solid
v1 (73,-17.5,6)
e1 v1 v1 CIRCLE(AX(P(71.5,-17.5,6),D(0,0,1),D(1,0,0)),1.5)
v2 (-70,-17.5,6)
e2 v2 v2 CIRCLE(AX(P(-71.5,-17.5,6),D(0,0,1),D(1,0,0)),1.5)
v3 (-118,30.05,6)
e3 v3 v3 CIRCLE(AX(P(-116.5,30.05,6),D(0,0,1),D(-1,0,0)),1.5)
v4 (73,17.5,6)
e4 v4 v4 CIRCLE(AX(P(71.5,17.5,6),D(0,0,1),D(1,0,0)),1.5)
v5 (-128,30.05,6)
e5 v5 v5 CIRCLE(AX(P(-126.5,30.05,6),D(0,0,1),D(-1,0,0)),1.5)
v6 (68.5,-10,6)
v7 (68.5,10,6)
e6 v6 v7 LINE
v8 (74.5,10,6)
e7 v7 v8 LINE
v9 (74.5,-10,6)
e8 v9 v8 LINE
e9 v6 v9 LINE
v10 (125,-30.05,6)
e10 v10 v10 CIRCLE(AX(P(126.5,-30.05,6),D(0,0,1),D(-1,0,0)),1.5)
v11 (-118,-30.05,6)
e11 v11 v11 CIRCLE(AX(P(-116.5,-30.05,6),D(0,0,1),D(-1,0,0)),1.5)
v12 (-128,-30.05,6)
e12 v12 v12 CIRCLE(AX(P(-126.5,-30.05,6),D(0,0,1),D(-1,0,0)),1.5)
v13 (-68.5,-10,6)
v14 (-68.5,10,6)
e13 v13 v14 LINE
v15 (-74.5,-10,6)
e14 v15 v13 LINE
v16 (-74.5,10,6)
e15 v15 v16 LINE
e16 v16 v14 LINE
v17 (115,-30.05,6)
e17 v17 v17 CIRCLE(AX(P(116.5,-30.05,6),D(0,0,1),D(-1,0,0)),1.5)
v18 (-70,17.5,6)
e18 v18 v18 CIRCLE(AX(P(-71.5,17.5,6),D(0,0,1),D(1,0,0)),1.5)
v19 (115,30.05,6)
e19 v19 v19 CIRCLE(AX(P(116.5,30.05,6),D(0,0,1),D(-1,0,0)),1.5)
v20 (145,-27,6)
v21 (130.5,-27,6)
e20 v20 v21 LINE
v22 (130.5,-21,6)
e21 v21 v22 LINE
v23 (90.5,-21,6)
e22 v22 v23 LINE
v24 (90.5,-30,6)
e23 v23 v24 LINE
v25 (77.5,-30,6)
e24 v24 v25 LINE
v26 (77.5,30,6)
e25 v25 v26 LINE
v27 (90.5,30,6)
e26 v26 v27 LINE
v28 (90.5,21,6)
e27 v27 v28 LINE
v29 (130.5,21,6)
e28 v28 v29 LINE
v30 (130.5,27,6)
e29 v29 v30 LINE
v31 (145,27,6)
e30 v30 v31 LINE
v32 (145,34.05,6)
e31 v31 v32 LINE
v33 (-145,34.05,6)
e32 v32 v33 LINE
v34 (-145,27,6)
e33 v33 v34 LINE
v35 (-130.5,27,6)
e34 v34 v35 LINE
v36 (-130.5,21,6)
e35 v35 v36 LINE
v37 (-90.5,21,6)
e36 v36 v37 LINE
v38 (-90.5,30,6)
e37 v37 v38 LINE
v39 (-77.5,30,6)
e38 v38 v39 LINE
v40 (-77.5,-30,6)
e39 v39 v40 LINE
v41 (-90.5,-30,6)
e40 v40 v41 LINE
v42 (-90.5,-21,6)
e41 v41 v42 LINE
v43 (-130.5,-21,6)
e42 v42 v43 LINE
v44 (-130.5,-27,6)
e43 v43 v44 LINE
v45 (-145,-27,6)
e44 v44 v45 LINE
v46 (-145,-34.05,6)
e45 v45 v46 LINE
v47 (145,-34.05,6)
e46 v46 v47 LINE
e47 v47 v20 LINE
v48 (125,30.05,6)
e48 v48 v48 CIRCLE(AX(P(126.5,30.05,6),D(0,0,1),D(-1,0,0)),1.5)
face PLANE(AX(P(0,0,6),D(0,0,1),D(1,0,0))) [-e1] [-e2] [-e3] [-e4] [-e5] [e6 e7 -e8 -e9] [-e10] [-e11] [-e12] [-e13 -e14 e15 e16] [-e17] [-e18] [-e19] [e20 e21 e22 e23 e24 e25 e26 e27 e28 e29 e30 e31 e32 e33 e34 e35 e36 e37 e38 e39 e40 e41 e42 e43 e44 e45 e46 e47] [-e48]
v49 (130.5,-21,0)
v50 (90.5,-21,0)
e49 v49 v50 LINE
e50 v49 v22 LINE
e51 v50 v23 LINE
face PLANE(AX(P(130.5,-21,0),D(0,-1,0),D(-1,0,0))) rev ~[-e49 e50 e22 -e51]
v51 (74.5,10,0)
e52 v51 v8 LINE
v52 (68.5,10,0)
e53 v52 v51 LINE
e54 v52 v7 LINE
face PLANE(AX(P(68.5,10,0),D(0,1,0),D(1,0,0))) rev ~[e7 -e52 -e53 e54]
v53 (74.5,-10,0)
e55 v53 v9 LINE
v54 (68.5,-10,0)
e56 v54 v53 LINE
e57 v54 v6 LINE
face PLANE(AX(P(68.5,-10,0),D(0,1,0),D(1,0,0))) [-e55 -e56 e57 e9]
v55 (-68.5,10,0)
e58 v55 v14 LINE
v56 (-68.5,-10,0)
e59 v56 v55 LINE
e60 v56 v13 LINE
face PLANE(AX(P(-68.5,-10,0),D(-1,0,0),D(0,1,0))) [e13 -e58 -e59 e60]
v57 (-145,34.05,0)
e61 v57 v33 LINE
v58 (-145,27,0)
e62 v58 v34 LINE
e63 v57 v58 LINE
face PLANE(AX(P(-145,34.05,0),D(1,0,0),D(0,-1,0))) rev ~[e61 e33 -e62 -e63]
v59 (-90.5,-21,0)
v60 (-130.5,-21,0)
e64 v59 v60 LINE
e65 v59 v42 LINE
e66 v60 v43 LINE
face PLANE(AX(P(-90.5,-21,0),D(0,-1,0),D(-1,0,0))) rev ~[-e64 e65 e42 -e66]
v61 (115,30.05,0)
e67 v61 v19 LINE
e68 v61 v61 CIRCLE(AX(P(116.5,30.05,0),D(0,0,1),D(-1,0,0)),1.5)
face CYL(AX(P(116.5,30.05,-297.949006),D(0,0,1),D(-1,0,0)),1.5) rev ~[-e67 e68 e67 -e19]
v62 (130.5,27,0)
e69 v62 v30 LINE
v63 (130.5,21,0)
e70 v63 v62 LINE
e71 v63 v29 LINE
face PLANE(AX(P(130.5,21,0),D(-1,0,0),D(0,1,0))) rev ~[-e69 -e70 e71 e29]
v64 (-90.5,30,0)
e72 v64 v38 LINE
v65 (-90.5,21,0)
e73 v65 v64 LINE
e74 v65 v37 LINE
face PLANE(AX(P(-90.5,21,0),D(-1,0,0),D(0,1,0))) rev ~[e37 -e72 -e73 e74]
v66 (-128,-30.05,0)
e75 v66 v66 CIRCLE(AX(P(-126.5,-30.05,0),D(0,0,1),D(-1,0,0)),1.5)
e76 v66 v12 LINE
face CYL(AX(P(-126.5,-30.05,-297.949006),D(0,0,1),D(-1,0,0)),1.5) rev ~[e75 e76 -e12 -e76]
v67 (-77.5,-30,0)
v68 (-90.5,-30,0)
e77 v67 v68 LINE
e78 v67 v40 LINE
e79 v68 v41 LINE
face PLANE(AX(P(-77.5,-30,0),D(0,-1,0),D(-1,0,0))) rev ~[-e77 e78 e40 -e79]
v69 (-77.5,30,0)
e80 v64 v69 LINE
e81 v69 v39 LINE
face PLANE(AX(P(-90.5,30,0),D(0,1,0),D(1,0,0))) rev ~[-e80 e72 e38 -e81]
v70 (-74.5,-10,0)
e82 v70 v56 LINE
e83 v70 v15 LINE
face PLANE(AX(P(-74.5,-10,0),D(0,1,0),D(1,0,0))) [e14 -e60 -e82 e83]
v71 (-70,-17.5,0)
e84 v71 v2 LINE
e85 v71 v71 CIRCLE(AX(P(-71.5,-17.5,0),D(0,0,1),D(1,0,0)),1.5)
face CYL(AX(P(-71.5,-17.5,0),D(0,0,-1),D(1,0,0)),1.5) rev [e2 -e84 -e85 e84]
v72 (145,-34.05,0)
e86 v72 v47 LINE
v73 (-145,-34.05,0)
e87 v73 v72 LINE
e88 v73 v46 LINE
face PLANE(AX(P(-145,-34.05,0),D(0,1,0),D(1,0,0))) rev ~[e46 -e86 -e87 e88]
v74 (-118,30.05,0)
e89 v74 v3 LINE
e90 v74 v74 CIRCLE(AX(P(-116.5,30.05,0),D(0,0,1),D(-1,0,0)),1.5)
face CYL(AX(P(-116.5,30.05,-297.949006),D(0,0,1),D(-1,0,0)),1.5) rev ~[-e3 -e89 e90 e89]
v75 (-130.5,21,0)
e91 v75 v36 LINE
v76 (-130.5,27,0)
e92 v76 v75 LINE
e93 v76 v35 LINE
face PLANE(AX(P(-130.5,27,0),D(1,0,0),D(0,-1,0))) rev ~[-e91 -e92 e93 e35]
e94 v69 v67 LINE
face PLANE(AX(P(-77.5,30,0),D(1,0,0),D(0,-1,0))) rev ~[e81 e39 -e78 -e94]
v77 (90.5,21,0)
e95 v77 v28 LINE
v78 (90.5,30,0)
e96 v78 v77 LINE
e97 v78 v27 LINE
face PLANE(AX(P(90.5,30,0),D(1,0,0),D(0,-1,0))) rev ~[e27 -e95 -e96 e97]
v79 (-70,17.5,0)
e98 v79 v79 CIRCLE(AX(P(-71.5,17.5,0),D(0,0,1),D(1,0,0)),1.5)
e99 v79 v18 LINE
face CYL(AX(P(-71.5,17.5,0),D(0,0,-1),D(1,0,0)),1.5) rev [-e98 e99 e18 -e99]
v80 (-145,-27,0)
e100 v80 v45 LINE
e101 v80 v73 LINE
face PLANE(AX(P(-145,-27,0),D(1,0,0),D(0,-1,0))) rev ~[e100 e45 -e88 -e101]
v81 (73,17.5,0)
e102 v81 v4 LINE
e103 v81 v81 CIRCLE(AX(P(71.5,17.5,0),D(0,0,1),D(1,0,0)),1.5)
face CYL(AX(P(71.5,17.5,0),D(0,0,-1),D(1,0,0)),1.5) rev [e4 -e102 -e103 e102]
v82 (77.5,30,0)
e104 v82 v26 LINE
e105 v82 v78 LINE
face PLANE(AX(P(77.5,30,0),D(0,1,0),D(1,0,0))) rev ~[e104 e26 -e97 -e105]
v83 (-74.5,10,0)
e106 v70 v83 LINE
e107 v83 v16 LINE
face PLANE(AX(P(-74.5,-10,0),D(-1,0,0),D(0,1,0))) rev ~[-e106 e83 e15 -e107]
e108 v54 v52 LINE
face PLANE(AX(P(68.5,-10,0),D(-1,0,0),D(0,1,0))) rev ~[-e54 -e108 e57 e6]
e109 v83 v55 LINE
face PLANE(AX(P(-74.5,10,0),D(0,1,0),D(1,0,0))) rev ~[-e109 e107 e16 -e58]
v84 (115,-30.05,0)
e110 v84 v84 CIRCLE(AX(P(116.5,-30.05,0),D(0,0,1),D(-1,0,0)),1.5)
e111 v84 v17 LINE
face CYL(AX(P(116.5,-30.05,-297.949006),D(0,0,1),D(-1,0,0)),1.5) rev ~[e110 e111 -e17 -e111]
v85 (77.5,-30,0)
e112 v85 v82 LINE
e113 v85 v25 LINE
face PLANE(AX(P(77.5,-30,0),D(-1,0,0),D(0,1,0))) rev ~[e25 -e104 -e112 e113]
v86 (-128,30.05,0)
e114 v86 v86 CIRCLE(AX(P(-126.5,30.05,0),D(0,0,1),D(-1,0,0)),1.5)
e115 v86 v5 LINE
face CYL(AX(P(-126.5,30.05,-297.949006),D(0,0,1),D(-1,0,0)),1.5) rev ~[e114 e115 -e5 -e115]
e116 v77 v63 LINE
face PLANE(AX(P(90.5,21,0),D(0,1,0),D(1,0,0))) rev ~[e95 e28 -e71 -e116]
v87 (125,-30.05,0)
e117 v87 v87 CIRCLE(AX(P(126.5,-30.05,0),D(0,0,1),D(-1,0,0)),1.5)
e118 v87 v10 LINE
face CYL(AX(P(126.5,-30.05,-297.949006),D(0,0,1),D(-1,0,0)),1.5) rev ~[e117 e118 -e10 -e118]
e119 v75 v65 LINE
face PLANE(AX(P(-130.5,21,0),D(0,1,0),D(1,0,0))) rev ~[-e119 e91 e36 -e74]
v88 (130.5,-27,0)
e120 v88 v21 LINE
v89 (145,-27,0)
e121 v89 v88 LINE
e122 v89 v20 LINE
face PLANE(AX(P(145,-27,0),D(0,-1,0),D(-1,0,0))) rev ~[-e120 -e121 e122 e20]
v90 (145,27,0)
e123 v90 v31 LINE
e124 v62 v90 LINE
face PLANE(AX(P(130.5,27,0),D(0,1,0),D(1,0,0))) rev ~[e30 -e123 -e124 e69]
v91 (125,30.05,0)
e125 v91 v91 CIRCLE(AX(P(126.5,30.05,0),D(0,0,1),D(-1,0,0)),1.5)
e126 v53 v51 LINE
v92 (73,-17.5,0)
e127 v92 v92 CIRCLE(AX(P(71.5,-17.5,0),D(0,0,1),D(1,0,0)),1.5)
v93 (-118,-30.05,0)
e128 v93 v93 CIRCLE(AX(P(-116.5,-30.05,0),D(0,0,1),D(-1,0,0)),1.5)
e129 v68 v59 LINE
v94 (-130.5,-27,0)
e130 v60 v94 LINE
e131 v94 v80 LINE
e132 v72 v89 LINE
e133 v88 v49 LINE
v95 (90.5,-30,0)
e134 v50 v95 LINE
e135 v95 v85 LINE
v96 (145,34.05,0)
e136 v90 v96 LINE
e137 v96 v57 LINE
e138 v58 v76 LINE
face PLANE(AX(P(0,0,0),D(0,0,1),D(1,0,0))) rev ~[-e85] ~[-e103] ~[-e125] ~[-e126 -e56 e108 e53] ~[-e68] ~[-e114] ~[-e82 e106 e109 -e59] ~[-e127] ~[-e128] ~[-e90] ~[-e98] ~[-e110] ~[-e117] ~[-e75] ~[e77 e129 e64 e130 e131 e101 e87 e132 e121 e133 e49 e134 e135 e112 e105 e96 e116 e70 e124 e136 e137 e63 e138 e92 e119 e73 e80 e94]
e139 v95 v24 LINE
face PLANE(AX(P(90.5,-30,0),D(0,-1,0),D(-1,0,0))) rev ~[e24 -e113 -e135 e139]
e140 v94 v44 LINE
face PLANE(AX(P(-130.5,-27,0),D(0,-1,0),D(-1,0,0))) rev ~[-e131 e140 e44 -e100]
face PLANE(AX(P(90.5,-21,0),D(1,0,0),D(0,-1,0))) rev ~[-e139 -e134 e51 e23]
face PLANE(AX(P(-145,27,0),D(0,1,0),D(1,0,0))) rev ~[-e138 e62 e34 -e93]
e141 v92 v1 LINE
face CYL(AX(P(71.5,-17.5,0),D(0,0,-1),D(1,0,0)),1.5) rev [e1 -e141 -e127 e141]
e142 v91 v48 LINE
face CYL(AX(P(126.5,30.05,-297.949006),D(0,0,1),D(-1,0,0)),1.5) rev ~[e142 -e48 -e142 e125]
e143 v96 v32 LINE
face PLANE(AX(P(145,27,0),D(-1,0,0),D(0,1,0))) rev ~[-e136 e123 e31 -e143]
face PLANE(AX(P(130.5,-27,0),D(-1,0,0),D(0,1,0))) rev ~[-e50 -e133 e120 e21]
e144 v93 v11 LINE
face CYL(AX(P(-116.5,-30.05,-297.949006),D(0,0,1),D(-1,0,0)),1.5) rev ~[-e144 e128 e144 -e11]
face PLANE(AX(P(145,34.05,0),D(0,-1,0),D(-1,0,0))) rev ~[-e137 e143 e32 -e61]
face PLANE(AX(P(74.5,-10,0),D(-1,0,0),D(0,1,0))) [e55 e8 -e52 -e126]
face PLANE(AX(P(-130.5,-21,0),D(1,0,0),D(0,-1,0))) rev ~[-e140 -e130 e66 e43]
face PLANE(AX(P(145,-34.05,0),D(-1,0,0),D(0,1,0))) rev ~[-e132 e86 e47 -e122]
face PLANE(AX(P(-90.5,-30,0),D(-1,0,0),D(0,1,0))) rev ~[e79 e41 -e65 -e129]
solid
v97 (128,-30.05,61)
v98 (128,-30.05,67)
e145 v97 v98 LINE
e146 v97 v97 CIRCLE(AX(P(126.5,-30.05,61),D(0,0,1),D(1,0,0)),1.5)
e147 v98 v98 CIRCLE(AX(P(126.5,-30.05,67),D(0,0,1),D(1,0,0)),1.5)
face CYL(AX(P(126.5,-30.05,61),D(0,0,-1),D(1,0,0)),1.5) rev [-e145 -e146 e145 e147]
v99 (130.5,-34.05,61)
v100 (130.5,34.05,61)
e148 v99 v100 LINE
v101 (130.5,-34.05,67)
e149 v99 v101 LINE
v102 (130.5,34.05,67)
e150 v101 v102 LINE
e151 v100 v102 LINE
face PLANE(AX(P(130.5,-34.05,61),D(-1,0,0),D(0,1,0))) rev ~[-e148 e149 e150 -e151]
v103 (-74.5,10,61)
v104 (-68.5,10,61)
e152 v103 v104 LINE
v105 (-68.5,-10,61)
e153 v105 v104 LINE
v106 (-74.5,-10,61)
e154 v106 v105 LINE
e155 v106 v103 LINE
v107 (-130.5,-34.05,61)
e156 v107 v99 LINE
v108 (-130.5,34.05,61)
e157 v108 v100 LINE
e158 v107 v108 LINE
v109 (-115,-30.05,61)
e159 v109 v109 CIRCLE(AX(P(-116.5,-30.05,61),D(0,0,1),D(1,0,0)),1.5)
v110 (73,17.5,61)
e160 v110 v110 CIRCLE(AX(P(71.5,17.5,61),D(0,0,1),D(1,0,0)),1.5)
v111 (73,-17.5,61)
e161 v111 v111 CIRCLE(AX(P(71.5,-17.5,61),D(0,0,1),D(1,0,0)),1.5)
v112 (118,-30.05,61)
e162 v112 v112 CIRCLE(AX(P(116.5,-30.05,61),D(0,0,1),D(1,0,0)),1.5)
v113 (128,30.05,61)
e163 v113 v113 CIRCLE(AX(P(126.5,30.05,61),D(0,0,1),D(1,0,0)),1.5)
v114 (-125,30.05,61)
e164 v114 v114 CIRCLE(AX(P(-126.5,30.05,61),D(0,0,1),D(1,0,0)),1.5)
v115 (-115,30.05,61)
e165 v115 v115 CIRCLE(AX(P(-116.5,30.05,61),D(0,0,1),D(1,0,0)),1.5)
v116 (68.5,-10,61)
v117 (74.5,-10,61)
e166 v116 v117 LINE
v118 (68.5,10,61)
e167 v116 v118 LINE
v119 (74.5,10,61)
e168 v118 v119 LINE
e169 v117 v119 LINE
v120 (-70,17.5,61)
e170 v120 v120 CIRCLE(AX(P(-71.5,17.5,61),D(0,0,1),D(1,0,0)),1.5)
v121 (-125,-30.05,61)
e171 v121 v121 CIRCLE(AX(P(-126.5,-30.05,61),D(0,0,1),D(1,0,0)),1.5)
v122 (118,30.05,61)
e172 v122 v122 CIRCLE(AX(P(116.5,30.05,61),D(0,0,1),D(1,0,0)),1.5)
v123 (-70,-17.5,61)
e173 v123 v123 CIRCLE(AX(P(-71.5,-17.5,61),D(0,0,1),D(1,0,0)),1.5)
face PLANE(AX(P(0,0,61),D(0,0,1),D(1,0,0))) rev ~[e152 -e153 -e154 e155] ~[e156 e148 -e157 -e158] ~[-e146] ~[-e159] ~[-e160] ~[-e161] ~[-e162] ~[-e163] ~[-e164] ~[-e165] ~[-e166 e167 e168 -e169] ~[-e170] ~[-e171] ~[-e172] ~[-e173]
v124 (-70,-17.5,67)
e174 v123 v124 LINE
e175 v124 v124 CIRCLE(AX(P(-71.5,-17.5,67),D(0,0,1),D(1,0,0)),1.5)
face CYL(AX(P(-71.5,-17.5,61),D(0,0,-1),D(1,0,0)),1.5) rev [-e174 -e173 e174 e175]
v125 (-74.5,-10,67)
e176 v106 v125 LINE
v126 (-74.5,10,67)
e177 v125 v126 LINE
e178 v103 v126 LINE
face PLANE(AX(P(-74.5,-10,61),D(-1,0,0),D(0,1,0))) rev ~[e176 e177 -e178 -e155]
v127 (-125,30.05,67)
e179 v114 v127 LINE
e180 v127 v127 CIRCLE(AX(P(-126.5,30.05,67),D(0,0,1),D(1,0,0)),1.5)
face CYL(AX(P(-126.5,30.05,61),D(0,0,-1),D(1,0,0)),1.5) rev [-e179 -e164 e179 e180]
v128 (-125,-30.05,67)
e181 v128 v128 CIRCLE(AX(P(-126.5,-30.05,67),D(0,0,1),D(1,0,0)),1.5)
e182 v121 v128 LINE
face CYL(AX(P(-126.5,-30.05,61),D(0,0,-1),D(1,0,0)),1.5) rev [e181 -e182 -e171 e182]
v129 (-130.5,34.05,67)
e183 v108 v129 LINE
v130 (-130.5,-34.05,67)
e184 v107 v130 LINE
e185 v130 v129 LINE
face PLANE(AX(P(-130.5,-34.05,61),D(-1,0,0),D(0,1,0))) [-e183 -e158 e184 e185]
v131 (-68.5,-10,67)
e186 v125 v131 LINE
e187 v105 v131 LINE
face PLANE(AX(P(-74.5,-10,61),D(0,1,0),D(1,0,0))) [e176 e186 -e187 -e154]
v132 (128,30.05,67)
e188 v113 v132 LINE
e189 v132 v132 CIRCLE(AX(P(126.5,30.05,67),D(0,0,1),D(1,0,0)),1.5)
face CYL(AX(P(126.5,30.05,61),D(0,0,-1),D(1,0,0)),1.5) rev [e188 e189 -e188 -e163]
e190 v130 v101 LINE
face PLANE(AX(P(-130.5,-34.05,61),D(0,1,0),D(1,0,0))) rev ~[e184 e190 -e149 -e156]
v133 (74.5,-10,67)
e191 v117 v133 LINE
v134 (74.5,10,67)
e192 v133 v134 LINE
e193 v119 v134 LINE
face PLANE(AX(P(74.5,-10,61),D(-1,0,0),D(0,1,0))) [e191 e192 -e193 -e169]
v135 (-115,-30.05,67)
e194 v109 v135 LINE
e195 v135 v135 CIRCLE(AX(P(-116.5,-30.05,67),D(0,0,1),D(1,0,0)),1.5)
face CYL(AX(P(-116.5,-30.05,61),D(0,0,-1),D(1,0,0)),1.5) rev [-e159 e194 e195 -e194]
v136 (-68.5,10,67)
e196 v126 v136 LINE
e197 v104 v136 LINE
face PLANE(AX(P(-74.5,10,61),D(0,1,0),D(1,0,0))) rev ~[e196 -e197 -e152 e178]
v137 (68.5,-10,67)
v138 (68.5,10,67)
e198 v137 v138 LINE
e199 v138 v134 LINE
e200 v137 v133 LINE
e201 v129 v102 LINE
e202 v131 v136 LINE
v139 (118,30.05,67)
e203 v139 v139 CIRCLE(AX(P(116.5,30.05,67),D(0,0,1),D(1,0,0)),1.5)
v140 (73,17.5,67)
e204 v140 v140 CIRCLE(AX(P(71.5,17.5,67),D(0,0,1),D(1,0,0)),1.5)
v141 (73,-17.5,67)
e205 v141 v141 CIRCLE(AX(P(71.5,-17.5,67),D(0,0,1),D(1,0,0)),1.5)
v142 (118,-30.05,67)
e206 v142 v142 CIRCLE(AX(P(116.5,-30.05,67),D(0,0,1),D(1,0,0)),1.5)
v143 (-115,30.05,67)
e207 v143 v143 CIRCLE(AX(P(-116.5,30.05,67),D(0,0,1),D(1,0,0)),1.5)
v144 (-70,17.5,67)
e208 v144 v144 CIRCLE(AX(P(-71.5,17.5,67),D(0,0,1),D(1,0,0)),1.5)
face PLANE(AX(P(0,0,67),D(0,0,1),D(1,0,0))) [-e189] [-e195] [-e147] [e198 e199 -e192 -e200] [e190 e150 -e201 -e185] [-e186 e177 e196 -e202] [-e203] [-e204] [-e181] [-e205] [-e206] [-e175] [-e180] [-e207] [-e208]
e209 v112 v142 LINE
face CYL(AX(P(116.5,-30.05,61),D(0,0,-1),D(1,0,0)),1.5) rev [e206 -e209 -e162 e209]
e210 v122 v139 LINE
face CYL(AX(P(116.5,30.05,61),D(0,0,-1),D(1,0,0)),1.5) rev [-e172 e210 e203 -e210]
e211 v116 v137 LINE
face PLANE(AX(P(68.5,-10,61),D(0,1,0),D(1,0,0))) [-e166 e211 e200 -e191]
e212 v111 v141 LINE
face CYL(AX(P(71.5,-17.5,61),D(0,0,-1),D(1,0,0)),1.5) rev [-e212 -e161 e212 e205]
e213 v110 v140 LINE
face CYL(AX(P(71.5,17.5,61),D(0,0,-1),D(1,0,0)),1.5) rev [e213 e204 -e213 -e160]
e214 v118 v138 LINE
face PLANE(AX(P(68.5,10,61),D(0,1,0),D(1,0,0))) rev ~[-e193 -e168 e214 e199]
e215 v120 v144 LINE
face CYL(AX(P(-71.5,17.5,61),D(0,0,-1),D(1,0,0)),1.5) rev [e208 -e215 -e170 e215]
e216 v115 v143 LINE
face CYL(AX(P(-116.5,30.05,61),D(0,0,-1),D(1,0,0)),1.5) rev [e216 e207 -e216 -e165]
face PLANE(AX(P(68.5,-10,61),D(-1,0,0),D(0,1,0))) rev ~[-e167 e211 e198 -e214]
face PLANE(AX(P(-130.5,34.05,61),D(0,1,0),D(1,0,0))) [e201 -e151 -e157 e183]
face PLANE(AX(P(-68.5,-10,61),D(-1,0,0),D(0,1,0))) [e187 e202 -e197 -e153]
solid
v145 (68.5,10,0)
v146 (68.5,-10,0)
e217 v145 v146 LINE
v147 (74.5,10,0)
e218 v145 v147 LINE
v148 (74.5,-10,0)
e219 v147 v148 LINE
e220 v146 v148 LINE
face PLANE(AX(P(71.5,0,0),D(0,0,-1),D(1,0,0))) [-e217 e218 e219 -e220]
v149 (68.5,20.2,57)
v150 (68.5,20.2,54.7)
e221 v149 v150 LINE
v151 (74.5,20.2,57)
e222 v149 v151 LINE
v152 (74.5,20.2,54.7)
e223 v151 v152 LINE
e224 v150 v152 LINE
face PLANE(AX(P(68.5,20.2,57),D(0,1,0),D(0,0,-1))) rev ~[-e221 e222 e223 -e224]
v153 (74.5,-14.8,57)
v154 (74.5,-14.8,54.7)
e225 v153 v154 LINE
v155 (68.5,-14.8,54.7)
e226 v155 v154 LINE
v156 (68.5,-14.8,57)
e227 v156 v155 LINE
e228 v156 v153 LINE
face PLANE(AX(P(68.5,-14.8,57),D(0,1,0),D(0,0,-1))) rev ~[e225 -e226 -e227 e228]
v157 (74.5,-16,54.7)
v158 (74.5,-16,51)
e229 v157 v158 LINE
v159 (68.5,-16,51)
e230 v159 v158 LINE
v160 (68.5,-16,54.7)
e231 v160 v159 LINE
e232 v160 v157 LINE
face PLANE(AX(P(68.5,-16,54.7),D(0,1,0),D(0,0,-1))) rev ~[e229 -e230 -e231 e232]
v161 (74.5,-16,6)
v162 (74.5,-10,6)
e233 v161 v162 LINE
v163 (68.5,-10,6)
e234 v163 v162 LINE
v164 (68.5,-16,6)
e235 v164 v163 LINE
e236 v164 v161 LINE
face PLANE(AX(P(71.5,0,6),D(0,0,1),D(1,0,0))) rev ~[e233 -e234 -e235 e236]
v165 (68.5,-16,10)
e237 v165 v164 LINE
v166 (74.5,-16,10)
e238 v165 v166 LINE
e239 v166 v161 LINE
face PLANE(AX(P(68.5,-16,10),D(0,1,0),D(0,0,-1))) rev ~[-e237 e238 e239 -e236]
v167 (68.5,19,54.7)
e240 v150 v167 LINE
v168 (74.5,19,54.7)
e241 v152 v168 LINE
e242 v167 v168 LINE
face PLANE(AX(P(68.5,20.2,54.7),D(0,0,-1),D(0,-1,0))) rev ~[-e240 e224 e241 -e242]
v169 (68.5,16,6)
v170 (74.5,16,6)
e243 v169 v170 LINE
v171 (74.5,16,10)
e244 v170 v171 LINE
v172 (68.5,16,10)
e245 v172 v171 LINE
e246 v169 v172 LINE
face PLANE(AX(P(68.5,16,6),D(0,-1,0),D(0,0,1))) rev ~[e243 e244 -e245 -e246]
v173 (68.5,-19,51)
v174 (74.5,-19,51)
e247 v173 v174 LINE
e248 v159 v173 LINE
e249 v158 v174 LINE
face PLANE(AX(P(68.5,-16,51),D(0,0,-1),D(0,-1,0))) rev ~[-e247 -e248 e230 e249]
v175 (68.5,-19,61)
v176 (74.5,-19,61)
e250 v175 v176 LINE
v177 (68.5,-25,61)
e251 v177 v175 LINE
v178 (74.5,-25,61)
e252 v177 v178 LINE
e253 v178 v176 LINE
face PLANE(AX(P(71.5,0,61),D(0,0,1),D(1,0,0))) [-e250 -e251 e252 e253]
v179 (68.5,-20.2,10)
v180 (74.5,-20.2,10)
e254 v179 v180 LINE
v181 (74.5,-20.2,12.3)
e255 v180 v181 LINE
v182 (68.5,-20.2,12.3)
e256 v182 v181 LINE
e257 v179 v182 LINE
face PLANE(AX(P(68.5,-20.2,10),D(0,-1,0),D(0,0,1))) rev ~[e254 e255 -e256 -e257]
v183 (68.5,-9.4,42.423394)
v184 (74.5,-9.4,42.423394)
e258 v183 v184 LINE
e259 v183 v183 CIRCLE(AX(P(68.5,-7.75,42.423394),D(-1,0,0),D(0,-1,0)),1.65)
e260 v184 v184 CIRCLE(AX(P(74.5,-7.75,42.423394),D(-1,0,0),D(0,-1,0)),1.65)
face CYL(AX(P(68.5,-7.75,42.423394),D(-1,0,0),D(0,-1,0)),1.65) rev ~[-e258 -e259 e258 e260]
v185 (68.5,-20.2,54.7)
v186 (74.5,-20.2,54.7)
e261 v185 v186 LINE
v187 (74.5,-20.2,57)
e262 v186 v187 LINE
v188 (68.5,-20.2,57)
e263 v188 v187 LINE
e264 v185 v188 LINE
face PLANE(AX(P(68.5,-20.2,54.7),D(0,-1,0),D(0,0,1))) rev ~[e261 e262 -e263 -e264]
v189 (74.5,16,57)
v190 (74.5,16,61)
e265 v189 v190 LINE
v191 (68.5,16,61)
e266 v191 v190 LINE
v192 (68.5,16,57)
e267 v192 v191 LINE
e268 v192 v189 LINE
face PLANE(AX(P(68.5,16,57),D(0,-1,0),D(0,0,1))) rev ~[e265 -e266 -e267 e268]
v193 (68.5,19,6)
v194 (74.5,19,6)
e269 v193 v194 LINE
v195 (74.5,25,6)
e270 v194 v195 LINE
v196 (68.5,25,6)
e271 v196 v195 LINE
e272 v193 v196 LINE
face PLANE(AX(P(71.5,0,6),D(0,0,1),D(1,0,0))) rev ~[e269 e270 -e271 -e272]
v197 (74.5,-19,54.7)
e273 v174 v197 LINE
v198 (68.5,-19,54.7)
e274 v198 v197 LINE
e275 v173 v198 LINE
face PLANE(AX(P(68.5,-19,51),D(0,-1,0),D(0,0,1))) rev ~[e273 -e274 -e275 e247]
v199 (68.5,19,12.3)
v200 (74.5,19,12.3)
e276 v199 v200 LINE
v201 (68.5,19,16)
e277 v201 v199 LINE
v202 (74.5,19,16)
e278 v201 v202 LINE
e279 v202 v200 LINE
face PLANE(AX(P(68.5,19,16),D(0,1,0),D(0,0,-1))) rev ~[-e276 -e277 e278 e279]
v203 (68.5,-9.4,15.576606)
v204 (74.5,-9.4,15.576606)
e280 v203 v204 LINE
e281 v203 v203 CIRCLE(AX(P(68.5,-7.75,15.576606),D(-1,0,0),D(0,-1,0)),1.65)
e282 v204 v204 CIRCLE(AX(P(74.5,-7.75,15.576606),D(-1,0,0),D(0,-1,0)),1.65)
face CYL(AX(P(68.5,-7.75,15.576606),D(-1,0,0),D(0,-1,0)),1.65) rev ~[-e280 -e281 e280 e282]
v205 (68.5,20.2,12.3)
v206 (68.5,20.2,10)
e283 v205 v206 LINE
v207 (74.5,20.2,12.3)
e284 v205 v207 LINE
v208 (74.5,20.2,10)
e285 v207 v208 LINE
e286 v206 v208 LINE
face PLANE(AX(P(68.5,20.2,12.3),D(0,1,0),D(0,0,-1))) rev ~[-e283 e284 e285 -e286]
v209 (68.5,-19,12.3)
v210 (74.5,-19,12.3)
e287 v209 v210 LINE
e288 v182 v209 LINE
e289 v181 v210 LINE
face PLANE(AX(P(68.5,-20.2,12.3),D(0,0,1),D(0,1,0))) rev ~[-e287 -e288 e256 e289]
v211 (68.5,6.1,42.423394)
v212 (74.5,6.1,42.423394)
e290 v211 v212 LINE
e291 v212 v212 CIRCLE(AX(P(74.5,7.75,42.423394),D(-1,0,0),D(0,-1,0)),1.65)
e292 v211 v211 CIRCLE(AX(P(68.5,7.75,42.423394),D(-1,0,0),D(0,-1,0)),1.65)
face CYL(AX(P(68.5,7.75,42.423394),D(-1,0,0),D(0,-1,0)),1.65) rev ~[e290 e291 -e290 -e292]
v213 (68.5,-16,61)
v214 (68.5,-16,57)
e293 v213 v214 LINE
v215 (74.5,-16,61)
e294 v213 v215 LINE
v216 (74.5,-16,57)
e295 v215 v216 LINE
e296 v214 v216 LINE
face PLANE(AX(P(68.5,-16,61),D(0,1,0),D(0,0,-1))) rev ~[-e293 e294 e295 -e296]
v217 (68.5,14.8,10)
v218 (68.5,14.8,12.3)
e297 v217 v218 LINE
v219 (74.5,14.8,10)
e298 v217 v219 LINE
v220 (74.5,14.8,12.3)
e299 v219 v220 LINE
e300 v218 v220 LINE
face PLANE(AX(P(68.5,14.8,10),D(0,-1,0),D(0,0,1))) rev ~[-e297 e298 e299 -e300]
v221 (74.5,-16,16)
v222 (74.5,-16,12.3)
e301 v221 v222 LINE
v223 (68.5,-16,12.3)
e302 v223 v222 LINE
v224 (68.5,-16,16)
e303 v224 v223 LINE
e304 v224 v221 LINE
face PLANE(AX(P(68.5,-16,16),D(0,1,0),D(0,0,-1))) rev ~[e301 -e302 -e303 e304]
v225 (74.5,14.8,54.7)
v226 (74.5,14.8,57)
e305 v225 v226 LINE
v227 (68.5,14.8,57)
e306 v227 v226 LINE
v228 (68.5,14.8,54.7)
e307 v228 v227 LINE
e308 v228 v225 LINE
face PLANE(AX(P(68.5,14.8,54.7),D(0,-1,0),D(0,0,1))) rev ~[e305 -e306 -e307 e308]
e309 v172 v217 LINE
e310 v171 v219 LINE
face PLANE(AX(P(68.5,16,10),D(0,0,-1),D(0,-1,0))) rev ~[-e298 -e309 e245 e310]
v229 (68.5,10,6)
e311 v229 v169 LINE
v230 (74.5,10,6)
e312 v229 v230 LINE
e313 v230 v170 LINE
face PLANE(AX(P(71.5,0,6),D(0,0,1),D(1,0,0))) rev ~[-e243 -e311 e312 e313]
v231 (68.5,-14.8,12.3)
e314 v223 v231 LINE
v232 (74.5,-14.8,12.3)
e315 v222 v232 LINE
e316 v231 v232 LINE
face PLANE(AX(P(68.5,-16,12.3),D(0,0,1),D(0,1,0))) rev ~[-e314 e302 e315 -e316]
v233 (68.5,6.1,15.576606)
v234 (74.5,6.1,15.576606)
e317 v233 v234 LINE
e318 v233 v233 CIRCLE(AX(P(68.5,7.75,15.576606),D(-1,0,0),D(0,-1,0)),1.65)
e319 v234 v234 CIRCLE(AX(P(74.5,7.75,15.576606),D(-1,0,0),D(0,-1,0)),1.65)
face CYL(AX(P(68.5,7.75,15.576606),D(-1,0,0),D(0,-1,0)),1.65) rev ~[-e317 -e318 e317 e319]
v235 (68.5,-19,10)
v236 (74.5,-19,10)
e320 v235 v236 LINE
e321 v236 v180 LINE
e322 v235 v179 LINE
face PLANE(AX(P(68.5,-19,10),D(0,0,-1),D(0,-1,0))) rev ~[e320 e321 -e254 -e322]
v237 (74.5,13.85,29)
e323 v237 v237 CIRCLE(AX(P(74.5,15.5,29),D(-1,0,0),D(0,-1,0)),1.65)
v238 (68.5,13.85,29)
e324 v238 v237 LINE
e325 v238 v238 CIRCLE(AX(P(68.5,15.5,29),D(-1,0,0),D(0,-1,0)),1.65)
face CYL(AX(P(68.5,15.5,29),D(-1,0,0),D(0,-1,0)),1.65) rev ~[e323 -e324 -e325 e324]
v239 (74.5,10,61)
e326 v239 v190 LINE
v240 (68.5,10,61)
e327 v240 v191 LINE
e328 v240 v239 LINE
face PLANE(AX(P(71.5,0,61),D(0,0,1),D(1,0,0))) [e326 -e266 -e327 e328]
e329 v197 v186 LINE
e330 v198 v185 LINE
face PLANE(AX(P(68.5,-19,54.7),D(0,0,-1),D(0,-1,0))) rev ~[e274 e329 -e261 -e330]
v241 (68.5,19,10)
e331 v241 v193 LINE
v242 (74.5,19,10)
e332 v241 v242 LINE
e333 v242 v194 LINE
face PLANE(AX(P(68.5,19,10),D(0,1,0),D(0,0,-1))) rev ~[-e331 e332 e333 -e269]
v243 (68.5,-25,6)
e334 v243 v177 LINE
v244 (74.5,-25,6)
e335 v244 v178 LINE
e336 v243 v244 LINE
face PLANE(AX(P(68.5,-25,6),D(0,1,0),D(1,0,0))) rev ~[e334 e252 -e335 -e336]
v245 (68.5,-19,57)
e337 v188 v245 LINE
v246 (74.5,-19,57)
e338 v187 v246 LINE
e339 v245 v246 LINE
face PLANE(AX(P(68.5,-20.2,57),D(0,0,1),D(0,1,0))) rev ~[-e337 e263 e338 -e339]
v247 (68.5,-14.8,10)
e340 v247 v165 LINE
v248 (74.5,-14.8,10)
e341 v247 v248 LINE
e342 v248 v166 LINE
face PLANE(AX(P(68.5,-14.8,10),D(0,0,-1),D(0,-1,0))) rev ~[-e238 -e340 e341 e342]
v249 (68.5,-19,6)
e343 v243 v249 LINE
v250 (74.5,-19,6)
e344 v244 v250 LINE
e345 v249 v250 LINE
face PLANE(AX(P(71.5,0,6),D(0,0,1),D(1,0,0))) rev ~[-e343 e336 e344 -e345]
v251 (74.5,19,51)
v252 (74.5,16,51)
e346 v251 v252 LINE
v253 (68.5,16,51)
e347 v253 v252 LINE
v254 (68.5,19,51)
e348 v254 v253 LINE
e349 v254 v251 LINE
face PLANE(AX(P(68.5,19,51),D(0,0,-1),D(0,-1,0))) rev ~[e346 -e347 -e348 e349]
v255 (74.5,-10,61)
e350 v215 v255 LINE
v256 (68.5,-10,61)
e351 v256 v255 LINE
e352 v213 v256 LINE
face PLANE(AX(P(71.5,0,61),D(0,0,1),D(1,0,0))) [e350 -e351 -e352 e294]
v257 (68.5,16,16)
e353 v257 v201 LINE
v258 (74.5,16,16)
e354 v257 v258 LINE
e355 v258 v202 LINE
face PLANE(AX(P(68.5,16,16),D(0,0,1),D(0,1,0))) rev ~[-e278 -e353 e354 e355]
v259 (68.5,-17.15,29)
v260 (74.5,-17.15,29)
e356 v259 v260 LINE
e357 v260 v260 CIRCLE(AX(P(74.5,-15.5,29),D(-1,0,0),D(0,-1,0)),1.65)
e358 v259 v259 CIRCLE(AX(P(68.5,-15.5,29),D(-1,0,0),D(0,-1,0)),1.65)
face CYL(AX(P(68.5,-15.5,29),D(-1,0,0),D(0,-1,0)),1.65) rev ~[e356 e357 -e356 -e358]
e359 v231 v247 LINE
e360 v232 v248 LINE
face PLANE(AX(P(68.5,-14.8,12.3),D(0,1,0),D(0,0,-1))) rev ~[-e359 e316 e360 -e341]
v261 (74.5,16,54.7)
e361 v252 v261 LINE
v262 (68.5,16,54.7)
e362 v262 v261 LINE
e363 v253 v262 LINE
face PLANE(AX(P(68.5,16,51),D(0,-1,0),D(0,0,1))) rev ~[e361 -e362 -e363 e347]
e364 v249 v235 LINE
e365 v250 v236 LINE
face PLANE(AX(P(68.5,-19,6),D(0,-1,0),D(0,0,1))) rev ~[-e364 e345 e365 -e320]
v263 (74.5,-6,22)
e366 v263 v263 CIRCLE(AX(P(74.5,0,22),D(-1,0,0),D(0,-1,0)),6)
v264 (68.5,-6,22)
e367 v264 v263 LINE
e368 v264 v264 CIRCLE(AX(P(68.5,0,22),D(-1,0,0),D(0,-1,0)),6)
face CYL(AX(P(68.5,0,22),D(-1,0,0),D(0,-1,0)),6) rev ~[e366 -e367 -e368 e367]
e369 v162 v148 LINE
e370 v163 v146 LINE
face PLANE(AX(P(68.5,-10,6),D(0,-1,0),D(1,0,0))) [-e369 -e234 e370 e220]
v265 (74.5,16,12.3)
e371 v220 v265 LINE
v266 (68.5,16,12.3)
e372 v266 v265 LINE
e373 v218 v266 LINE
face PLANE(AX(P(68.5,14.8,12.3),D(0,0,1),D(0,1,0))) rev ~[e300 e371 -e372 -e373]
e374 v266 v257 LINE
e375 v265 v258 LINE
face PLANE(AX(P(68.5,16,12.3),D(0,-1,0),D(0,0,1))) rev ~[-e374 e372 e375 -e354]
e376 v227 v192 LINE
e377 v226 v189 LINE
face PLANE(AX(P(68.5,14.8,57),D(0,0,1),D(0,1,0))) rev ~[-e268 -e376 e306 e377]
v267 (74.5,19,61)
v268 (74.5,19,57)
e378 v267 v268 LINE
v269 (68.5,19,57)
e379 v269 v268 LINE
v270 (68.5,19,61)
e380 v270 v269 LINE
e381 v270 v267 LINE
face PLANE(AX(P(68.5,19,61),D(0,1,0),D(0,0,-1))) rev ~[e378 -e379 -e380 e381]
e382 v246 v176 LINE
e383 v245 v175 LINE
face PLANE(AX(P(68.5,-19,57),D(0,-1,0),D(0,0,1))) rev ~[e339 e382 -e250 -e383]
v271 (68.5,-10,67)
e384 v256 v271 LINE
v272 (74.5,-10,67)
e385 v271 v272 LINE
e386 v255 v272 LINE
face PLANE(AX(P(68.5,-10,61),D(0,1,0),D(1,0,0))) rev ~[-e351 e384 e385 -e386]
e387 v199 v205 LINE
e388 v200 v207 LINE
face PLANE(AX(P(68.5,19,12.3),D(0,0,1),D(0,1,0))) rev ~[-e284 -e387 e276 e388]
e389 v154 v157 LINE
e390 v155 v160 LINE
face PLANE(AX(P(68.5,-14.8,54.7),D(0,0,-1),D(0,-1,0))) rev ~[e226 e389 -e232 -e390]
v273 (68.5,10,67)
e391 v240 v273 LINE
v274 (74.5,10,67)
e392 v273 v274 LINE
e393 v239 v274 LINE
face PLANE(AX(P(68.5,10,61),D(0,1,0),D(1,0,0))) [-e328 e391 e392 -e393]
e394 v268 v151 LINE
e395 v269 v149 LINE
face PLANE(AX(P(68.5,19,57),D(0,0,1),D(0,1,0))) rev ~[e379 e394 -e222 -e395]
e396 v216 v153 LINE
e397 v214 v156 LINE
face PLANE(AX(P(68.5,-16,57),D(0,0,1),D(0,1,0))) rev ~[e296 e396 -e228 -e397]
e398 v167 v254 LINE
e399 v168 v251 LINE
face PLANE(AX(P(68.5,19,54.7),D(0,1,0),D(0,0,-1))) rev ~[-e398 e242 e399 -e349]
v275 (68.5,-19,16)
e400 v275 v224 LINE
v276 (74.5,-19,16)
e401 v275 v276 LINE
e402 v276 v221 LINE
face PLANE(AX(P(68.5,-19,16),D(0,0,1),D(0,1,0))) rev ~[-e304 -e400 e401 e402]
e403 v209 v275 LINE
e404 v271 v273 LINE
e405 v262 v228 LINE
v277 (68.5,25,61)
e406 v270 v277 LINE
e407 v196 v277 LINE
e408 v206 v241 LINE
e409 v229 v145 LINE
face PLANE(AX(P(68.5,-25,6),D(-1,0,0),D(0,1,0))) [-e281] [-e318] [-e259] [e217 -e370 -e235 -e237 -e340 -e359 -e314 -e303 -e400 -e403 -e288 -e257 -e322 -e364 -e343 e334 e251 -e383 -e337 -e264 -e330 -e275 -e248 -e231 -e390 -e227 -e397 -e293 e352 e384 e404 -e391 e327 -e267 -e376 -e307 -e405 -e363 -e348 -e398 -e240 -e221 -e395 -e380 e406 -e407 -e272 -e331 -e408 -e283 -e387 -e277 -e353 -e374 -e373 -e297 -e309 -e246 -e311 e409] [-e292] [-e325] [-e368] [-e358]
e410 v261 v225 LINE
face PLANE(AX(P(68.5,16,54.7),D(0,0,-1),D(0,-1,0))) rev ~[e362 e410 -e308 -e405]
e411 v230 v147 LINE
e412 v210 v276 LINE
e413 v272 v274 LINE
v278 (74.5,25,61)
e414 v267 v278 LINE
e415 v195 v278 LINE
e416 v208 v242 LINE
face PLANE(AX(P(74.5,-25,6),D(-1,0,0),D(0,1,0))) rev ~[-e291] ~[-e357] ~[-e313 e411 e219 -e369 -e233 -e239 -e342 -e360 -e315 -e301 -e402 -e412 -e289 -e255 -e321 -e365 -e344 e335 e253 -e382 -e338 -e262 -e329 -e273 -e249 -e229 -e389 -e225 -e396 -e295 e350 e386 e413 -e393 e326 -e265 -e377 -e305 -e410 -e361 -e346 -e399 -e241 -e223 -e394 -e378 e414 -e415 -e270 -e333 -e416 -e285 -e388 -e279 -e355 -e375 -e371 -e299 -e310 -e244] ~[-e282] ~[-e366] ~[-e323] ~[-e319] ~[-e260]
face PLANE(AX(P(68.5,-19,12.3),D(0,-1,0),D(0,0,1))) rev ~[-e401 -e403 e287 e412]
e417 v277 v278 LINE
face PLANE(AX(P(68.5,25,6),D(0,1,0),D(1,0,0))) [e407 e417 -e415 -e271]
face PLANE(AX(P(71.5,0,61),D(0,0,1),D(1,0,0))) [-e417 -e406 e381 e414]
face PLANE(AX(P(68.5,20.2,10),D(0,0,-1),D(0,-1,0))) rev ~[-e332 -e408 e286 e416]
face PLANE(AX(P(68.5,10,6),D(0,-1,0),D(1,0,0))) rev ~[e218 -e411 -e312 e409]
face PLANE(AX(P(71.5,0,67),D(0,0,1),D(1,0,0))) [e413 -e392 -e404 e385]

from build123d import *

# Parameters (mm, degrees)
F0_R      = 1.5
F0_W      = 6
F0_H      = 20
F1_DEPTH  = 6
F2_D      = 3
F3_W      = 6
F3_H      = 50
F4_DEPTH  = 55
F5_W      = 6
F5_H      = 20
F6_DEPTH  = 6
F7_R      = 6
F7_R_2    = 1.65
F8_DEPTH  = 6
F10_DEPTH = 6
F11_W     = 6
F11_H     = 20
F12_DEPTH = 6
F13_W     = 261
F13_H     = 68.1
F13_R     = 1.5
F13_W_2   = 6
F13_H_2   = 20
F14_DEPTH = 6


with BuildPart() as f1:
    # F0 (on Top) → F1 (new body)
    with BuildSketch(Plane.XY):
        Polygon((145, 27), (145, 34.05), (-145, 34.05), (-145, 27), (-130.5, 27), (-130.5, 21), (-90.5, 21), (-90.5, 30), (-77.5, 30), (-77.5, -30), (-90.5, -30), (-90.5, -21), (-130.5, -21), (-130.5, -27), (-145, -27), (-145, -34.05), (145, -34.05), (145, -27), (130.5, -27), (130.5, -21), (90.5, -21), (90.5, -30), (77.5, -30), (77.5, 30), (90.5, 30), (90.5, 21), (130.5, 21), (130.5, 27), align=None)
        with Locations((-71.5, -17.5)):
            Circle(F0_R, mode=Mode.SUBTRACT)
        with Locations((71.5, -17.5)):
            Circle(F0_R, mode=Mode.SUBTRACT)
        with Locations((-71.5, 0)):
            Rectangle(F0_W, F0_H, mode=Mode.SUBTRACT)
        with Locations((-71.5, 17.5)):
            Circle(F0_R, mode=Mode.SUBTRACT)
        with Locations((71.5, 0)):
            Rectangle(F0_W, F0_H, mode=Mode.SUBTRACT)
        with Locations((71.5, 17.5)):
            Circle(F0_R, mode=Mode.SUBTRACT)
    extrude(amount=F1_DEPTH)

    # F2 (through all)
    with Locations(Plane(origin=(0, 0, 0), x_dir=(1, 0, 0), z_dir=(0, 0, -1))):
        with Locations((126.5, 30.05), (116.5, 30.05), (126.5, -30.05), (116.5, -30.05), (-116.5, 30.05), (-126.5, 30.05), (-116.5, -30.05), (-126.5, -30.05)):
            Hole(F2_D / 2)


with BuildPart() as f4:
    # F3 (on face) → F4 (new body)
    with BuildSketch(Plane.XY.offset(6)):
        with Locations((71.5, 0)):
            Rectangle(F3_W, F3_H)
    extrude(amount=F4_DEPTH)

    # F5 (on face) → F6 (join)
    with BuildSketch(Plane(origin=(0, 0, 6), x_dir=(1, 0, 0), z_dir=(0, 0, -1))):
        with Locations((71.5, 0)):
            Rectangle(F5_W, F5_H)
    extrude(amount=F6_DEPTH)

    # F7 (on face) → F8 (cut, through all)
    with BuildSketch(Plane(origin=(68.5, 0, 0), x_dir=(0, -1, 0), z_dir=(-1, 0, 0))):
        with Locations((0, 22)):
            Circle(F7_R)
        with Locations((7.75, 15.5766062413)):
            Circle(F7_R_2)
        with Locations((15.5, 29)):
            Circle(F7_R_2)
        with Locations((7.75, 42.4233937587)):
            Circle(F7_R_2)
        with Locations((-7.75, 42.4233937587)):
            Circle(F7_R_2)
        with Locations((-15.5, 29)):
            Circle(F7_R_2)
        with Locations((-7.75, 15.5766062413)):
            Circle(F7_R_2)
    extrude(amount=-F8_DEPTH, mode=Mode.SUBTRACT)

    # F9 (on face) → F10 (cut, through all)
    with BuildSketch(Plane(origin=(68.5, 0, 0), x_dir=(0, -1, 0), z_dir=(-1, 0, 0))):
        Polygon((16, 6), (19, 6), (19, 10), (20.2, 10), (20.2, 12.3), (19, 12.3), (19, 16), (16, 16), (16, 12.3), (14.8, 12.3), (14.8, 10), (16, 10), align=None)
        Polygon((-19, 10), (-19, 6), (-16, 6), (-16, 10), (-14.8, 10), (-14.8, 12.3), (-16, 12.3), (-16, 16), (-19, 16), (-19, 12.3), (-20.2, 12.3), (-20.2, 10), align=None)
        Polygon((19, 61), (16, 61), (16, 57), (14.8, 57), (14.8, 54.7), (16, 54.7), (16, 51), (19, 51), (19, 54.7), (20.2, 54.7), (20.2, 57), (19, 57), align=None)
        Polygon((-16, 61), (-19, 61), (-19, 57), (-20.2, 57), (-20.2, 54.7), (-19, 54.7), (-19, 51), (-16, 51), (-16, 54.7), (-14.8, 54.7), (-14.8, 57), (-16, 57), align=None)
    extrude(amount=-F10_DEPTH, mode=Mode.SUBTRACT)

    # F11 (on face) → F12 (join)
    with BuildSketch(Plane.XY.offset(61)):
        with Locations((71.5, 0)):
            Rectangle(F11_W, F11_H)
    extrude(amount=F12_DEPTH)


with BuildPart() as f14:
    # F13 (on face) → F14 (new body)
    with BuildSketch(Plane.XY.offset(61)):
        Rectangle(F13_W, F13_H)
        with Locations((-126.5, -30.05)):
            Circle(F13_R, mode=Mode.SUBTRACT)
        with Locations((-116.5, -30.05)):
            Circle(F13_R, mode=Mode.SUBTRACT)
        with Locations((-71.5, -17.5)):
            Circle(F13_R, mode=Mode.SUBTRACT)
        with Locations((116.5, -30.05)):
            Circle(F13_R, mode=Mode.SUBTRACT)
        with Locations((126.5, -30.05)):
            Circle(F13_R, mode=Mode.SUBTRACT)
        with Locations((71.5, -17.5)):
            Circle(F13_R, mode=Mode.SUBTRACT)
        with Locations((-71.5, 0)):
            Rectangle(F13_W_2, F13_H_2, mode=Mode.SUBTRACT)
        with Locations((-71.5, 17.5)):
            Circle(F13_R, mode=Mode.SUBTRACT)
        with Locations((-126.5, 30.05)):
            Circle(F13_R, mode=Mode.SUBTRACT)
        with Locations((-116.5, 30.05)):
            Circle(F13_R, mode=Mode.SUBTRACT)
        with Locations((71.5, 0)):
            Rectangle(F13_W_2, F13_H_2, mode=Mode.SUBTRACT)
        with Locations((71.5, 17.5)):
            Circle(F13_R, mode=Mode.SUBTRACT)
        with Locations((116.5, 30.05)):
            Circle(F13_R, mode=Mode.SUBTRACT)
        with Locations((126.5, 30.05)):
            Circle(F13_R, mode=Mode.SUBTRACT)
    extrude(amount=F14_DEPTH)


solid = Compound([f1.part, f4.part, f14.part])
